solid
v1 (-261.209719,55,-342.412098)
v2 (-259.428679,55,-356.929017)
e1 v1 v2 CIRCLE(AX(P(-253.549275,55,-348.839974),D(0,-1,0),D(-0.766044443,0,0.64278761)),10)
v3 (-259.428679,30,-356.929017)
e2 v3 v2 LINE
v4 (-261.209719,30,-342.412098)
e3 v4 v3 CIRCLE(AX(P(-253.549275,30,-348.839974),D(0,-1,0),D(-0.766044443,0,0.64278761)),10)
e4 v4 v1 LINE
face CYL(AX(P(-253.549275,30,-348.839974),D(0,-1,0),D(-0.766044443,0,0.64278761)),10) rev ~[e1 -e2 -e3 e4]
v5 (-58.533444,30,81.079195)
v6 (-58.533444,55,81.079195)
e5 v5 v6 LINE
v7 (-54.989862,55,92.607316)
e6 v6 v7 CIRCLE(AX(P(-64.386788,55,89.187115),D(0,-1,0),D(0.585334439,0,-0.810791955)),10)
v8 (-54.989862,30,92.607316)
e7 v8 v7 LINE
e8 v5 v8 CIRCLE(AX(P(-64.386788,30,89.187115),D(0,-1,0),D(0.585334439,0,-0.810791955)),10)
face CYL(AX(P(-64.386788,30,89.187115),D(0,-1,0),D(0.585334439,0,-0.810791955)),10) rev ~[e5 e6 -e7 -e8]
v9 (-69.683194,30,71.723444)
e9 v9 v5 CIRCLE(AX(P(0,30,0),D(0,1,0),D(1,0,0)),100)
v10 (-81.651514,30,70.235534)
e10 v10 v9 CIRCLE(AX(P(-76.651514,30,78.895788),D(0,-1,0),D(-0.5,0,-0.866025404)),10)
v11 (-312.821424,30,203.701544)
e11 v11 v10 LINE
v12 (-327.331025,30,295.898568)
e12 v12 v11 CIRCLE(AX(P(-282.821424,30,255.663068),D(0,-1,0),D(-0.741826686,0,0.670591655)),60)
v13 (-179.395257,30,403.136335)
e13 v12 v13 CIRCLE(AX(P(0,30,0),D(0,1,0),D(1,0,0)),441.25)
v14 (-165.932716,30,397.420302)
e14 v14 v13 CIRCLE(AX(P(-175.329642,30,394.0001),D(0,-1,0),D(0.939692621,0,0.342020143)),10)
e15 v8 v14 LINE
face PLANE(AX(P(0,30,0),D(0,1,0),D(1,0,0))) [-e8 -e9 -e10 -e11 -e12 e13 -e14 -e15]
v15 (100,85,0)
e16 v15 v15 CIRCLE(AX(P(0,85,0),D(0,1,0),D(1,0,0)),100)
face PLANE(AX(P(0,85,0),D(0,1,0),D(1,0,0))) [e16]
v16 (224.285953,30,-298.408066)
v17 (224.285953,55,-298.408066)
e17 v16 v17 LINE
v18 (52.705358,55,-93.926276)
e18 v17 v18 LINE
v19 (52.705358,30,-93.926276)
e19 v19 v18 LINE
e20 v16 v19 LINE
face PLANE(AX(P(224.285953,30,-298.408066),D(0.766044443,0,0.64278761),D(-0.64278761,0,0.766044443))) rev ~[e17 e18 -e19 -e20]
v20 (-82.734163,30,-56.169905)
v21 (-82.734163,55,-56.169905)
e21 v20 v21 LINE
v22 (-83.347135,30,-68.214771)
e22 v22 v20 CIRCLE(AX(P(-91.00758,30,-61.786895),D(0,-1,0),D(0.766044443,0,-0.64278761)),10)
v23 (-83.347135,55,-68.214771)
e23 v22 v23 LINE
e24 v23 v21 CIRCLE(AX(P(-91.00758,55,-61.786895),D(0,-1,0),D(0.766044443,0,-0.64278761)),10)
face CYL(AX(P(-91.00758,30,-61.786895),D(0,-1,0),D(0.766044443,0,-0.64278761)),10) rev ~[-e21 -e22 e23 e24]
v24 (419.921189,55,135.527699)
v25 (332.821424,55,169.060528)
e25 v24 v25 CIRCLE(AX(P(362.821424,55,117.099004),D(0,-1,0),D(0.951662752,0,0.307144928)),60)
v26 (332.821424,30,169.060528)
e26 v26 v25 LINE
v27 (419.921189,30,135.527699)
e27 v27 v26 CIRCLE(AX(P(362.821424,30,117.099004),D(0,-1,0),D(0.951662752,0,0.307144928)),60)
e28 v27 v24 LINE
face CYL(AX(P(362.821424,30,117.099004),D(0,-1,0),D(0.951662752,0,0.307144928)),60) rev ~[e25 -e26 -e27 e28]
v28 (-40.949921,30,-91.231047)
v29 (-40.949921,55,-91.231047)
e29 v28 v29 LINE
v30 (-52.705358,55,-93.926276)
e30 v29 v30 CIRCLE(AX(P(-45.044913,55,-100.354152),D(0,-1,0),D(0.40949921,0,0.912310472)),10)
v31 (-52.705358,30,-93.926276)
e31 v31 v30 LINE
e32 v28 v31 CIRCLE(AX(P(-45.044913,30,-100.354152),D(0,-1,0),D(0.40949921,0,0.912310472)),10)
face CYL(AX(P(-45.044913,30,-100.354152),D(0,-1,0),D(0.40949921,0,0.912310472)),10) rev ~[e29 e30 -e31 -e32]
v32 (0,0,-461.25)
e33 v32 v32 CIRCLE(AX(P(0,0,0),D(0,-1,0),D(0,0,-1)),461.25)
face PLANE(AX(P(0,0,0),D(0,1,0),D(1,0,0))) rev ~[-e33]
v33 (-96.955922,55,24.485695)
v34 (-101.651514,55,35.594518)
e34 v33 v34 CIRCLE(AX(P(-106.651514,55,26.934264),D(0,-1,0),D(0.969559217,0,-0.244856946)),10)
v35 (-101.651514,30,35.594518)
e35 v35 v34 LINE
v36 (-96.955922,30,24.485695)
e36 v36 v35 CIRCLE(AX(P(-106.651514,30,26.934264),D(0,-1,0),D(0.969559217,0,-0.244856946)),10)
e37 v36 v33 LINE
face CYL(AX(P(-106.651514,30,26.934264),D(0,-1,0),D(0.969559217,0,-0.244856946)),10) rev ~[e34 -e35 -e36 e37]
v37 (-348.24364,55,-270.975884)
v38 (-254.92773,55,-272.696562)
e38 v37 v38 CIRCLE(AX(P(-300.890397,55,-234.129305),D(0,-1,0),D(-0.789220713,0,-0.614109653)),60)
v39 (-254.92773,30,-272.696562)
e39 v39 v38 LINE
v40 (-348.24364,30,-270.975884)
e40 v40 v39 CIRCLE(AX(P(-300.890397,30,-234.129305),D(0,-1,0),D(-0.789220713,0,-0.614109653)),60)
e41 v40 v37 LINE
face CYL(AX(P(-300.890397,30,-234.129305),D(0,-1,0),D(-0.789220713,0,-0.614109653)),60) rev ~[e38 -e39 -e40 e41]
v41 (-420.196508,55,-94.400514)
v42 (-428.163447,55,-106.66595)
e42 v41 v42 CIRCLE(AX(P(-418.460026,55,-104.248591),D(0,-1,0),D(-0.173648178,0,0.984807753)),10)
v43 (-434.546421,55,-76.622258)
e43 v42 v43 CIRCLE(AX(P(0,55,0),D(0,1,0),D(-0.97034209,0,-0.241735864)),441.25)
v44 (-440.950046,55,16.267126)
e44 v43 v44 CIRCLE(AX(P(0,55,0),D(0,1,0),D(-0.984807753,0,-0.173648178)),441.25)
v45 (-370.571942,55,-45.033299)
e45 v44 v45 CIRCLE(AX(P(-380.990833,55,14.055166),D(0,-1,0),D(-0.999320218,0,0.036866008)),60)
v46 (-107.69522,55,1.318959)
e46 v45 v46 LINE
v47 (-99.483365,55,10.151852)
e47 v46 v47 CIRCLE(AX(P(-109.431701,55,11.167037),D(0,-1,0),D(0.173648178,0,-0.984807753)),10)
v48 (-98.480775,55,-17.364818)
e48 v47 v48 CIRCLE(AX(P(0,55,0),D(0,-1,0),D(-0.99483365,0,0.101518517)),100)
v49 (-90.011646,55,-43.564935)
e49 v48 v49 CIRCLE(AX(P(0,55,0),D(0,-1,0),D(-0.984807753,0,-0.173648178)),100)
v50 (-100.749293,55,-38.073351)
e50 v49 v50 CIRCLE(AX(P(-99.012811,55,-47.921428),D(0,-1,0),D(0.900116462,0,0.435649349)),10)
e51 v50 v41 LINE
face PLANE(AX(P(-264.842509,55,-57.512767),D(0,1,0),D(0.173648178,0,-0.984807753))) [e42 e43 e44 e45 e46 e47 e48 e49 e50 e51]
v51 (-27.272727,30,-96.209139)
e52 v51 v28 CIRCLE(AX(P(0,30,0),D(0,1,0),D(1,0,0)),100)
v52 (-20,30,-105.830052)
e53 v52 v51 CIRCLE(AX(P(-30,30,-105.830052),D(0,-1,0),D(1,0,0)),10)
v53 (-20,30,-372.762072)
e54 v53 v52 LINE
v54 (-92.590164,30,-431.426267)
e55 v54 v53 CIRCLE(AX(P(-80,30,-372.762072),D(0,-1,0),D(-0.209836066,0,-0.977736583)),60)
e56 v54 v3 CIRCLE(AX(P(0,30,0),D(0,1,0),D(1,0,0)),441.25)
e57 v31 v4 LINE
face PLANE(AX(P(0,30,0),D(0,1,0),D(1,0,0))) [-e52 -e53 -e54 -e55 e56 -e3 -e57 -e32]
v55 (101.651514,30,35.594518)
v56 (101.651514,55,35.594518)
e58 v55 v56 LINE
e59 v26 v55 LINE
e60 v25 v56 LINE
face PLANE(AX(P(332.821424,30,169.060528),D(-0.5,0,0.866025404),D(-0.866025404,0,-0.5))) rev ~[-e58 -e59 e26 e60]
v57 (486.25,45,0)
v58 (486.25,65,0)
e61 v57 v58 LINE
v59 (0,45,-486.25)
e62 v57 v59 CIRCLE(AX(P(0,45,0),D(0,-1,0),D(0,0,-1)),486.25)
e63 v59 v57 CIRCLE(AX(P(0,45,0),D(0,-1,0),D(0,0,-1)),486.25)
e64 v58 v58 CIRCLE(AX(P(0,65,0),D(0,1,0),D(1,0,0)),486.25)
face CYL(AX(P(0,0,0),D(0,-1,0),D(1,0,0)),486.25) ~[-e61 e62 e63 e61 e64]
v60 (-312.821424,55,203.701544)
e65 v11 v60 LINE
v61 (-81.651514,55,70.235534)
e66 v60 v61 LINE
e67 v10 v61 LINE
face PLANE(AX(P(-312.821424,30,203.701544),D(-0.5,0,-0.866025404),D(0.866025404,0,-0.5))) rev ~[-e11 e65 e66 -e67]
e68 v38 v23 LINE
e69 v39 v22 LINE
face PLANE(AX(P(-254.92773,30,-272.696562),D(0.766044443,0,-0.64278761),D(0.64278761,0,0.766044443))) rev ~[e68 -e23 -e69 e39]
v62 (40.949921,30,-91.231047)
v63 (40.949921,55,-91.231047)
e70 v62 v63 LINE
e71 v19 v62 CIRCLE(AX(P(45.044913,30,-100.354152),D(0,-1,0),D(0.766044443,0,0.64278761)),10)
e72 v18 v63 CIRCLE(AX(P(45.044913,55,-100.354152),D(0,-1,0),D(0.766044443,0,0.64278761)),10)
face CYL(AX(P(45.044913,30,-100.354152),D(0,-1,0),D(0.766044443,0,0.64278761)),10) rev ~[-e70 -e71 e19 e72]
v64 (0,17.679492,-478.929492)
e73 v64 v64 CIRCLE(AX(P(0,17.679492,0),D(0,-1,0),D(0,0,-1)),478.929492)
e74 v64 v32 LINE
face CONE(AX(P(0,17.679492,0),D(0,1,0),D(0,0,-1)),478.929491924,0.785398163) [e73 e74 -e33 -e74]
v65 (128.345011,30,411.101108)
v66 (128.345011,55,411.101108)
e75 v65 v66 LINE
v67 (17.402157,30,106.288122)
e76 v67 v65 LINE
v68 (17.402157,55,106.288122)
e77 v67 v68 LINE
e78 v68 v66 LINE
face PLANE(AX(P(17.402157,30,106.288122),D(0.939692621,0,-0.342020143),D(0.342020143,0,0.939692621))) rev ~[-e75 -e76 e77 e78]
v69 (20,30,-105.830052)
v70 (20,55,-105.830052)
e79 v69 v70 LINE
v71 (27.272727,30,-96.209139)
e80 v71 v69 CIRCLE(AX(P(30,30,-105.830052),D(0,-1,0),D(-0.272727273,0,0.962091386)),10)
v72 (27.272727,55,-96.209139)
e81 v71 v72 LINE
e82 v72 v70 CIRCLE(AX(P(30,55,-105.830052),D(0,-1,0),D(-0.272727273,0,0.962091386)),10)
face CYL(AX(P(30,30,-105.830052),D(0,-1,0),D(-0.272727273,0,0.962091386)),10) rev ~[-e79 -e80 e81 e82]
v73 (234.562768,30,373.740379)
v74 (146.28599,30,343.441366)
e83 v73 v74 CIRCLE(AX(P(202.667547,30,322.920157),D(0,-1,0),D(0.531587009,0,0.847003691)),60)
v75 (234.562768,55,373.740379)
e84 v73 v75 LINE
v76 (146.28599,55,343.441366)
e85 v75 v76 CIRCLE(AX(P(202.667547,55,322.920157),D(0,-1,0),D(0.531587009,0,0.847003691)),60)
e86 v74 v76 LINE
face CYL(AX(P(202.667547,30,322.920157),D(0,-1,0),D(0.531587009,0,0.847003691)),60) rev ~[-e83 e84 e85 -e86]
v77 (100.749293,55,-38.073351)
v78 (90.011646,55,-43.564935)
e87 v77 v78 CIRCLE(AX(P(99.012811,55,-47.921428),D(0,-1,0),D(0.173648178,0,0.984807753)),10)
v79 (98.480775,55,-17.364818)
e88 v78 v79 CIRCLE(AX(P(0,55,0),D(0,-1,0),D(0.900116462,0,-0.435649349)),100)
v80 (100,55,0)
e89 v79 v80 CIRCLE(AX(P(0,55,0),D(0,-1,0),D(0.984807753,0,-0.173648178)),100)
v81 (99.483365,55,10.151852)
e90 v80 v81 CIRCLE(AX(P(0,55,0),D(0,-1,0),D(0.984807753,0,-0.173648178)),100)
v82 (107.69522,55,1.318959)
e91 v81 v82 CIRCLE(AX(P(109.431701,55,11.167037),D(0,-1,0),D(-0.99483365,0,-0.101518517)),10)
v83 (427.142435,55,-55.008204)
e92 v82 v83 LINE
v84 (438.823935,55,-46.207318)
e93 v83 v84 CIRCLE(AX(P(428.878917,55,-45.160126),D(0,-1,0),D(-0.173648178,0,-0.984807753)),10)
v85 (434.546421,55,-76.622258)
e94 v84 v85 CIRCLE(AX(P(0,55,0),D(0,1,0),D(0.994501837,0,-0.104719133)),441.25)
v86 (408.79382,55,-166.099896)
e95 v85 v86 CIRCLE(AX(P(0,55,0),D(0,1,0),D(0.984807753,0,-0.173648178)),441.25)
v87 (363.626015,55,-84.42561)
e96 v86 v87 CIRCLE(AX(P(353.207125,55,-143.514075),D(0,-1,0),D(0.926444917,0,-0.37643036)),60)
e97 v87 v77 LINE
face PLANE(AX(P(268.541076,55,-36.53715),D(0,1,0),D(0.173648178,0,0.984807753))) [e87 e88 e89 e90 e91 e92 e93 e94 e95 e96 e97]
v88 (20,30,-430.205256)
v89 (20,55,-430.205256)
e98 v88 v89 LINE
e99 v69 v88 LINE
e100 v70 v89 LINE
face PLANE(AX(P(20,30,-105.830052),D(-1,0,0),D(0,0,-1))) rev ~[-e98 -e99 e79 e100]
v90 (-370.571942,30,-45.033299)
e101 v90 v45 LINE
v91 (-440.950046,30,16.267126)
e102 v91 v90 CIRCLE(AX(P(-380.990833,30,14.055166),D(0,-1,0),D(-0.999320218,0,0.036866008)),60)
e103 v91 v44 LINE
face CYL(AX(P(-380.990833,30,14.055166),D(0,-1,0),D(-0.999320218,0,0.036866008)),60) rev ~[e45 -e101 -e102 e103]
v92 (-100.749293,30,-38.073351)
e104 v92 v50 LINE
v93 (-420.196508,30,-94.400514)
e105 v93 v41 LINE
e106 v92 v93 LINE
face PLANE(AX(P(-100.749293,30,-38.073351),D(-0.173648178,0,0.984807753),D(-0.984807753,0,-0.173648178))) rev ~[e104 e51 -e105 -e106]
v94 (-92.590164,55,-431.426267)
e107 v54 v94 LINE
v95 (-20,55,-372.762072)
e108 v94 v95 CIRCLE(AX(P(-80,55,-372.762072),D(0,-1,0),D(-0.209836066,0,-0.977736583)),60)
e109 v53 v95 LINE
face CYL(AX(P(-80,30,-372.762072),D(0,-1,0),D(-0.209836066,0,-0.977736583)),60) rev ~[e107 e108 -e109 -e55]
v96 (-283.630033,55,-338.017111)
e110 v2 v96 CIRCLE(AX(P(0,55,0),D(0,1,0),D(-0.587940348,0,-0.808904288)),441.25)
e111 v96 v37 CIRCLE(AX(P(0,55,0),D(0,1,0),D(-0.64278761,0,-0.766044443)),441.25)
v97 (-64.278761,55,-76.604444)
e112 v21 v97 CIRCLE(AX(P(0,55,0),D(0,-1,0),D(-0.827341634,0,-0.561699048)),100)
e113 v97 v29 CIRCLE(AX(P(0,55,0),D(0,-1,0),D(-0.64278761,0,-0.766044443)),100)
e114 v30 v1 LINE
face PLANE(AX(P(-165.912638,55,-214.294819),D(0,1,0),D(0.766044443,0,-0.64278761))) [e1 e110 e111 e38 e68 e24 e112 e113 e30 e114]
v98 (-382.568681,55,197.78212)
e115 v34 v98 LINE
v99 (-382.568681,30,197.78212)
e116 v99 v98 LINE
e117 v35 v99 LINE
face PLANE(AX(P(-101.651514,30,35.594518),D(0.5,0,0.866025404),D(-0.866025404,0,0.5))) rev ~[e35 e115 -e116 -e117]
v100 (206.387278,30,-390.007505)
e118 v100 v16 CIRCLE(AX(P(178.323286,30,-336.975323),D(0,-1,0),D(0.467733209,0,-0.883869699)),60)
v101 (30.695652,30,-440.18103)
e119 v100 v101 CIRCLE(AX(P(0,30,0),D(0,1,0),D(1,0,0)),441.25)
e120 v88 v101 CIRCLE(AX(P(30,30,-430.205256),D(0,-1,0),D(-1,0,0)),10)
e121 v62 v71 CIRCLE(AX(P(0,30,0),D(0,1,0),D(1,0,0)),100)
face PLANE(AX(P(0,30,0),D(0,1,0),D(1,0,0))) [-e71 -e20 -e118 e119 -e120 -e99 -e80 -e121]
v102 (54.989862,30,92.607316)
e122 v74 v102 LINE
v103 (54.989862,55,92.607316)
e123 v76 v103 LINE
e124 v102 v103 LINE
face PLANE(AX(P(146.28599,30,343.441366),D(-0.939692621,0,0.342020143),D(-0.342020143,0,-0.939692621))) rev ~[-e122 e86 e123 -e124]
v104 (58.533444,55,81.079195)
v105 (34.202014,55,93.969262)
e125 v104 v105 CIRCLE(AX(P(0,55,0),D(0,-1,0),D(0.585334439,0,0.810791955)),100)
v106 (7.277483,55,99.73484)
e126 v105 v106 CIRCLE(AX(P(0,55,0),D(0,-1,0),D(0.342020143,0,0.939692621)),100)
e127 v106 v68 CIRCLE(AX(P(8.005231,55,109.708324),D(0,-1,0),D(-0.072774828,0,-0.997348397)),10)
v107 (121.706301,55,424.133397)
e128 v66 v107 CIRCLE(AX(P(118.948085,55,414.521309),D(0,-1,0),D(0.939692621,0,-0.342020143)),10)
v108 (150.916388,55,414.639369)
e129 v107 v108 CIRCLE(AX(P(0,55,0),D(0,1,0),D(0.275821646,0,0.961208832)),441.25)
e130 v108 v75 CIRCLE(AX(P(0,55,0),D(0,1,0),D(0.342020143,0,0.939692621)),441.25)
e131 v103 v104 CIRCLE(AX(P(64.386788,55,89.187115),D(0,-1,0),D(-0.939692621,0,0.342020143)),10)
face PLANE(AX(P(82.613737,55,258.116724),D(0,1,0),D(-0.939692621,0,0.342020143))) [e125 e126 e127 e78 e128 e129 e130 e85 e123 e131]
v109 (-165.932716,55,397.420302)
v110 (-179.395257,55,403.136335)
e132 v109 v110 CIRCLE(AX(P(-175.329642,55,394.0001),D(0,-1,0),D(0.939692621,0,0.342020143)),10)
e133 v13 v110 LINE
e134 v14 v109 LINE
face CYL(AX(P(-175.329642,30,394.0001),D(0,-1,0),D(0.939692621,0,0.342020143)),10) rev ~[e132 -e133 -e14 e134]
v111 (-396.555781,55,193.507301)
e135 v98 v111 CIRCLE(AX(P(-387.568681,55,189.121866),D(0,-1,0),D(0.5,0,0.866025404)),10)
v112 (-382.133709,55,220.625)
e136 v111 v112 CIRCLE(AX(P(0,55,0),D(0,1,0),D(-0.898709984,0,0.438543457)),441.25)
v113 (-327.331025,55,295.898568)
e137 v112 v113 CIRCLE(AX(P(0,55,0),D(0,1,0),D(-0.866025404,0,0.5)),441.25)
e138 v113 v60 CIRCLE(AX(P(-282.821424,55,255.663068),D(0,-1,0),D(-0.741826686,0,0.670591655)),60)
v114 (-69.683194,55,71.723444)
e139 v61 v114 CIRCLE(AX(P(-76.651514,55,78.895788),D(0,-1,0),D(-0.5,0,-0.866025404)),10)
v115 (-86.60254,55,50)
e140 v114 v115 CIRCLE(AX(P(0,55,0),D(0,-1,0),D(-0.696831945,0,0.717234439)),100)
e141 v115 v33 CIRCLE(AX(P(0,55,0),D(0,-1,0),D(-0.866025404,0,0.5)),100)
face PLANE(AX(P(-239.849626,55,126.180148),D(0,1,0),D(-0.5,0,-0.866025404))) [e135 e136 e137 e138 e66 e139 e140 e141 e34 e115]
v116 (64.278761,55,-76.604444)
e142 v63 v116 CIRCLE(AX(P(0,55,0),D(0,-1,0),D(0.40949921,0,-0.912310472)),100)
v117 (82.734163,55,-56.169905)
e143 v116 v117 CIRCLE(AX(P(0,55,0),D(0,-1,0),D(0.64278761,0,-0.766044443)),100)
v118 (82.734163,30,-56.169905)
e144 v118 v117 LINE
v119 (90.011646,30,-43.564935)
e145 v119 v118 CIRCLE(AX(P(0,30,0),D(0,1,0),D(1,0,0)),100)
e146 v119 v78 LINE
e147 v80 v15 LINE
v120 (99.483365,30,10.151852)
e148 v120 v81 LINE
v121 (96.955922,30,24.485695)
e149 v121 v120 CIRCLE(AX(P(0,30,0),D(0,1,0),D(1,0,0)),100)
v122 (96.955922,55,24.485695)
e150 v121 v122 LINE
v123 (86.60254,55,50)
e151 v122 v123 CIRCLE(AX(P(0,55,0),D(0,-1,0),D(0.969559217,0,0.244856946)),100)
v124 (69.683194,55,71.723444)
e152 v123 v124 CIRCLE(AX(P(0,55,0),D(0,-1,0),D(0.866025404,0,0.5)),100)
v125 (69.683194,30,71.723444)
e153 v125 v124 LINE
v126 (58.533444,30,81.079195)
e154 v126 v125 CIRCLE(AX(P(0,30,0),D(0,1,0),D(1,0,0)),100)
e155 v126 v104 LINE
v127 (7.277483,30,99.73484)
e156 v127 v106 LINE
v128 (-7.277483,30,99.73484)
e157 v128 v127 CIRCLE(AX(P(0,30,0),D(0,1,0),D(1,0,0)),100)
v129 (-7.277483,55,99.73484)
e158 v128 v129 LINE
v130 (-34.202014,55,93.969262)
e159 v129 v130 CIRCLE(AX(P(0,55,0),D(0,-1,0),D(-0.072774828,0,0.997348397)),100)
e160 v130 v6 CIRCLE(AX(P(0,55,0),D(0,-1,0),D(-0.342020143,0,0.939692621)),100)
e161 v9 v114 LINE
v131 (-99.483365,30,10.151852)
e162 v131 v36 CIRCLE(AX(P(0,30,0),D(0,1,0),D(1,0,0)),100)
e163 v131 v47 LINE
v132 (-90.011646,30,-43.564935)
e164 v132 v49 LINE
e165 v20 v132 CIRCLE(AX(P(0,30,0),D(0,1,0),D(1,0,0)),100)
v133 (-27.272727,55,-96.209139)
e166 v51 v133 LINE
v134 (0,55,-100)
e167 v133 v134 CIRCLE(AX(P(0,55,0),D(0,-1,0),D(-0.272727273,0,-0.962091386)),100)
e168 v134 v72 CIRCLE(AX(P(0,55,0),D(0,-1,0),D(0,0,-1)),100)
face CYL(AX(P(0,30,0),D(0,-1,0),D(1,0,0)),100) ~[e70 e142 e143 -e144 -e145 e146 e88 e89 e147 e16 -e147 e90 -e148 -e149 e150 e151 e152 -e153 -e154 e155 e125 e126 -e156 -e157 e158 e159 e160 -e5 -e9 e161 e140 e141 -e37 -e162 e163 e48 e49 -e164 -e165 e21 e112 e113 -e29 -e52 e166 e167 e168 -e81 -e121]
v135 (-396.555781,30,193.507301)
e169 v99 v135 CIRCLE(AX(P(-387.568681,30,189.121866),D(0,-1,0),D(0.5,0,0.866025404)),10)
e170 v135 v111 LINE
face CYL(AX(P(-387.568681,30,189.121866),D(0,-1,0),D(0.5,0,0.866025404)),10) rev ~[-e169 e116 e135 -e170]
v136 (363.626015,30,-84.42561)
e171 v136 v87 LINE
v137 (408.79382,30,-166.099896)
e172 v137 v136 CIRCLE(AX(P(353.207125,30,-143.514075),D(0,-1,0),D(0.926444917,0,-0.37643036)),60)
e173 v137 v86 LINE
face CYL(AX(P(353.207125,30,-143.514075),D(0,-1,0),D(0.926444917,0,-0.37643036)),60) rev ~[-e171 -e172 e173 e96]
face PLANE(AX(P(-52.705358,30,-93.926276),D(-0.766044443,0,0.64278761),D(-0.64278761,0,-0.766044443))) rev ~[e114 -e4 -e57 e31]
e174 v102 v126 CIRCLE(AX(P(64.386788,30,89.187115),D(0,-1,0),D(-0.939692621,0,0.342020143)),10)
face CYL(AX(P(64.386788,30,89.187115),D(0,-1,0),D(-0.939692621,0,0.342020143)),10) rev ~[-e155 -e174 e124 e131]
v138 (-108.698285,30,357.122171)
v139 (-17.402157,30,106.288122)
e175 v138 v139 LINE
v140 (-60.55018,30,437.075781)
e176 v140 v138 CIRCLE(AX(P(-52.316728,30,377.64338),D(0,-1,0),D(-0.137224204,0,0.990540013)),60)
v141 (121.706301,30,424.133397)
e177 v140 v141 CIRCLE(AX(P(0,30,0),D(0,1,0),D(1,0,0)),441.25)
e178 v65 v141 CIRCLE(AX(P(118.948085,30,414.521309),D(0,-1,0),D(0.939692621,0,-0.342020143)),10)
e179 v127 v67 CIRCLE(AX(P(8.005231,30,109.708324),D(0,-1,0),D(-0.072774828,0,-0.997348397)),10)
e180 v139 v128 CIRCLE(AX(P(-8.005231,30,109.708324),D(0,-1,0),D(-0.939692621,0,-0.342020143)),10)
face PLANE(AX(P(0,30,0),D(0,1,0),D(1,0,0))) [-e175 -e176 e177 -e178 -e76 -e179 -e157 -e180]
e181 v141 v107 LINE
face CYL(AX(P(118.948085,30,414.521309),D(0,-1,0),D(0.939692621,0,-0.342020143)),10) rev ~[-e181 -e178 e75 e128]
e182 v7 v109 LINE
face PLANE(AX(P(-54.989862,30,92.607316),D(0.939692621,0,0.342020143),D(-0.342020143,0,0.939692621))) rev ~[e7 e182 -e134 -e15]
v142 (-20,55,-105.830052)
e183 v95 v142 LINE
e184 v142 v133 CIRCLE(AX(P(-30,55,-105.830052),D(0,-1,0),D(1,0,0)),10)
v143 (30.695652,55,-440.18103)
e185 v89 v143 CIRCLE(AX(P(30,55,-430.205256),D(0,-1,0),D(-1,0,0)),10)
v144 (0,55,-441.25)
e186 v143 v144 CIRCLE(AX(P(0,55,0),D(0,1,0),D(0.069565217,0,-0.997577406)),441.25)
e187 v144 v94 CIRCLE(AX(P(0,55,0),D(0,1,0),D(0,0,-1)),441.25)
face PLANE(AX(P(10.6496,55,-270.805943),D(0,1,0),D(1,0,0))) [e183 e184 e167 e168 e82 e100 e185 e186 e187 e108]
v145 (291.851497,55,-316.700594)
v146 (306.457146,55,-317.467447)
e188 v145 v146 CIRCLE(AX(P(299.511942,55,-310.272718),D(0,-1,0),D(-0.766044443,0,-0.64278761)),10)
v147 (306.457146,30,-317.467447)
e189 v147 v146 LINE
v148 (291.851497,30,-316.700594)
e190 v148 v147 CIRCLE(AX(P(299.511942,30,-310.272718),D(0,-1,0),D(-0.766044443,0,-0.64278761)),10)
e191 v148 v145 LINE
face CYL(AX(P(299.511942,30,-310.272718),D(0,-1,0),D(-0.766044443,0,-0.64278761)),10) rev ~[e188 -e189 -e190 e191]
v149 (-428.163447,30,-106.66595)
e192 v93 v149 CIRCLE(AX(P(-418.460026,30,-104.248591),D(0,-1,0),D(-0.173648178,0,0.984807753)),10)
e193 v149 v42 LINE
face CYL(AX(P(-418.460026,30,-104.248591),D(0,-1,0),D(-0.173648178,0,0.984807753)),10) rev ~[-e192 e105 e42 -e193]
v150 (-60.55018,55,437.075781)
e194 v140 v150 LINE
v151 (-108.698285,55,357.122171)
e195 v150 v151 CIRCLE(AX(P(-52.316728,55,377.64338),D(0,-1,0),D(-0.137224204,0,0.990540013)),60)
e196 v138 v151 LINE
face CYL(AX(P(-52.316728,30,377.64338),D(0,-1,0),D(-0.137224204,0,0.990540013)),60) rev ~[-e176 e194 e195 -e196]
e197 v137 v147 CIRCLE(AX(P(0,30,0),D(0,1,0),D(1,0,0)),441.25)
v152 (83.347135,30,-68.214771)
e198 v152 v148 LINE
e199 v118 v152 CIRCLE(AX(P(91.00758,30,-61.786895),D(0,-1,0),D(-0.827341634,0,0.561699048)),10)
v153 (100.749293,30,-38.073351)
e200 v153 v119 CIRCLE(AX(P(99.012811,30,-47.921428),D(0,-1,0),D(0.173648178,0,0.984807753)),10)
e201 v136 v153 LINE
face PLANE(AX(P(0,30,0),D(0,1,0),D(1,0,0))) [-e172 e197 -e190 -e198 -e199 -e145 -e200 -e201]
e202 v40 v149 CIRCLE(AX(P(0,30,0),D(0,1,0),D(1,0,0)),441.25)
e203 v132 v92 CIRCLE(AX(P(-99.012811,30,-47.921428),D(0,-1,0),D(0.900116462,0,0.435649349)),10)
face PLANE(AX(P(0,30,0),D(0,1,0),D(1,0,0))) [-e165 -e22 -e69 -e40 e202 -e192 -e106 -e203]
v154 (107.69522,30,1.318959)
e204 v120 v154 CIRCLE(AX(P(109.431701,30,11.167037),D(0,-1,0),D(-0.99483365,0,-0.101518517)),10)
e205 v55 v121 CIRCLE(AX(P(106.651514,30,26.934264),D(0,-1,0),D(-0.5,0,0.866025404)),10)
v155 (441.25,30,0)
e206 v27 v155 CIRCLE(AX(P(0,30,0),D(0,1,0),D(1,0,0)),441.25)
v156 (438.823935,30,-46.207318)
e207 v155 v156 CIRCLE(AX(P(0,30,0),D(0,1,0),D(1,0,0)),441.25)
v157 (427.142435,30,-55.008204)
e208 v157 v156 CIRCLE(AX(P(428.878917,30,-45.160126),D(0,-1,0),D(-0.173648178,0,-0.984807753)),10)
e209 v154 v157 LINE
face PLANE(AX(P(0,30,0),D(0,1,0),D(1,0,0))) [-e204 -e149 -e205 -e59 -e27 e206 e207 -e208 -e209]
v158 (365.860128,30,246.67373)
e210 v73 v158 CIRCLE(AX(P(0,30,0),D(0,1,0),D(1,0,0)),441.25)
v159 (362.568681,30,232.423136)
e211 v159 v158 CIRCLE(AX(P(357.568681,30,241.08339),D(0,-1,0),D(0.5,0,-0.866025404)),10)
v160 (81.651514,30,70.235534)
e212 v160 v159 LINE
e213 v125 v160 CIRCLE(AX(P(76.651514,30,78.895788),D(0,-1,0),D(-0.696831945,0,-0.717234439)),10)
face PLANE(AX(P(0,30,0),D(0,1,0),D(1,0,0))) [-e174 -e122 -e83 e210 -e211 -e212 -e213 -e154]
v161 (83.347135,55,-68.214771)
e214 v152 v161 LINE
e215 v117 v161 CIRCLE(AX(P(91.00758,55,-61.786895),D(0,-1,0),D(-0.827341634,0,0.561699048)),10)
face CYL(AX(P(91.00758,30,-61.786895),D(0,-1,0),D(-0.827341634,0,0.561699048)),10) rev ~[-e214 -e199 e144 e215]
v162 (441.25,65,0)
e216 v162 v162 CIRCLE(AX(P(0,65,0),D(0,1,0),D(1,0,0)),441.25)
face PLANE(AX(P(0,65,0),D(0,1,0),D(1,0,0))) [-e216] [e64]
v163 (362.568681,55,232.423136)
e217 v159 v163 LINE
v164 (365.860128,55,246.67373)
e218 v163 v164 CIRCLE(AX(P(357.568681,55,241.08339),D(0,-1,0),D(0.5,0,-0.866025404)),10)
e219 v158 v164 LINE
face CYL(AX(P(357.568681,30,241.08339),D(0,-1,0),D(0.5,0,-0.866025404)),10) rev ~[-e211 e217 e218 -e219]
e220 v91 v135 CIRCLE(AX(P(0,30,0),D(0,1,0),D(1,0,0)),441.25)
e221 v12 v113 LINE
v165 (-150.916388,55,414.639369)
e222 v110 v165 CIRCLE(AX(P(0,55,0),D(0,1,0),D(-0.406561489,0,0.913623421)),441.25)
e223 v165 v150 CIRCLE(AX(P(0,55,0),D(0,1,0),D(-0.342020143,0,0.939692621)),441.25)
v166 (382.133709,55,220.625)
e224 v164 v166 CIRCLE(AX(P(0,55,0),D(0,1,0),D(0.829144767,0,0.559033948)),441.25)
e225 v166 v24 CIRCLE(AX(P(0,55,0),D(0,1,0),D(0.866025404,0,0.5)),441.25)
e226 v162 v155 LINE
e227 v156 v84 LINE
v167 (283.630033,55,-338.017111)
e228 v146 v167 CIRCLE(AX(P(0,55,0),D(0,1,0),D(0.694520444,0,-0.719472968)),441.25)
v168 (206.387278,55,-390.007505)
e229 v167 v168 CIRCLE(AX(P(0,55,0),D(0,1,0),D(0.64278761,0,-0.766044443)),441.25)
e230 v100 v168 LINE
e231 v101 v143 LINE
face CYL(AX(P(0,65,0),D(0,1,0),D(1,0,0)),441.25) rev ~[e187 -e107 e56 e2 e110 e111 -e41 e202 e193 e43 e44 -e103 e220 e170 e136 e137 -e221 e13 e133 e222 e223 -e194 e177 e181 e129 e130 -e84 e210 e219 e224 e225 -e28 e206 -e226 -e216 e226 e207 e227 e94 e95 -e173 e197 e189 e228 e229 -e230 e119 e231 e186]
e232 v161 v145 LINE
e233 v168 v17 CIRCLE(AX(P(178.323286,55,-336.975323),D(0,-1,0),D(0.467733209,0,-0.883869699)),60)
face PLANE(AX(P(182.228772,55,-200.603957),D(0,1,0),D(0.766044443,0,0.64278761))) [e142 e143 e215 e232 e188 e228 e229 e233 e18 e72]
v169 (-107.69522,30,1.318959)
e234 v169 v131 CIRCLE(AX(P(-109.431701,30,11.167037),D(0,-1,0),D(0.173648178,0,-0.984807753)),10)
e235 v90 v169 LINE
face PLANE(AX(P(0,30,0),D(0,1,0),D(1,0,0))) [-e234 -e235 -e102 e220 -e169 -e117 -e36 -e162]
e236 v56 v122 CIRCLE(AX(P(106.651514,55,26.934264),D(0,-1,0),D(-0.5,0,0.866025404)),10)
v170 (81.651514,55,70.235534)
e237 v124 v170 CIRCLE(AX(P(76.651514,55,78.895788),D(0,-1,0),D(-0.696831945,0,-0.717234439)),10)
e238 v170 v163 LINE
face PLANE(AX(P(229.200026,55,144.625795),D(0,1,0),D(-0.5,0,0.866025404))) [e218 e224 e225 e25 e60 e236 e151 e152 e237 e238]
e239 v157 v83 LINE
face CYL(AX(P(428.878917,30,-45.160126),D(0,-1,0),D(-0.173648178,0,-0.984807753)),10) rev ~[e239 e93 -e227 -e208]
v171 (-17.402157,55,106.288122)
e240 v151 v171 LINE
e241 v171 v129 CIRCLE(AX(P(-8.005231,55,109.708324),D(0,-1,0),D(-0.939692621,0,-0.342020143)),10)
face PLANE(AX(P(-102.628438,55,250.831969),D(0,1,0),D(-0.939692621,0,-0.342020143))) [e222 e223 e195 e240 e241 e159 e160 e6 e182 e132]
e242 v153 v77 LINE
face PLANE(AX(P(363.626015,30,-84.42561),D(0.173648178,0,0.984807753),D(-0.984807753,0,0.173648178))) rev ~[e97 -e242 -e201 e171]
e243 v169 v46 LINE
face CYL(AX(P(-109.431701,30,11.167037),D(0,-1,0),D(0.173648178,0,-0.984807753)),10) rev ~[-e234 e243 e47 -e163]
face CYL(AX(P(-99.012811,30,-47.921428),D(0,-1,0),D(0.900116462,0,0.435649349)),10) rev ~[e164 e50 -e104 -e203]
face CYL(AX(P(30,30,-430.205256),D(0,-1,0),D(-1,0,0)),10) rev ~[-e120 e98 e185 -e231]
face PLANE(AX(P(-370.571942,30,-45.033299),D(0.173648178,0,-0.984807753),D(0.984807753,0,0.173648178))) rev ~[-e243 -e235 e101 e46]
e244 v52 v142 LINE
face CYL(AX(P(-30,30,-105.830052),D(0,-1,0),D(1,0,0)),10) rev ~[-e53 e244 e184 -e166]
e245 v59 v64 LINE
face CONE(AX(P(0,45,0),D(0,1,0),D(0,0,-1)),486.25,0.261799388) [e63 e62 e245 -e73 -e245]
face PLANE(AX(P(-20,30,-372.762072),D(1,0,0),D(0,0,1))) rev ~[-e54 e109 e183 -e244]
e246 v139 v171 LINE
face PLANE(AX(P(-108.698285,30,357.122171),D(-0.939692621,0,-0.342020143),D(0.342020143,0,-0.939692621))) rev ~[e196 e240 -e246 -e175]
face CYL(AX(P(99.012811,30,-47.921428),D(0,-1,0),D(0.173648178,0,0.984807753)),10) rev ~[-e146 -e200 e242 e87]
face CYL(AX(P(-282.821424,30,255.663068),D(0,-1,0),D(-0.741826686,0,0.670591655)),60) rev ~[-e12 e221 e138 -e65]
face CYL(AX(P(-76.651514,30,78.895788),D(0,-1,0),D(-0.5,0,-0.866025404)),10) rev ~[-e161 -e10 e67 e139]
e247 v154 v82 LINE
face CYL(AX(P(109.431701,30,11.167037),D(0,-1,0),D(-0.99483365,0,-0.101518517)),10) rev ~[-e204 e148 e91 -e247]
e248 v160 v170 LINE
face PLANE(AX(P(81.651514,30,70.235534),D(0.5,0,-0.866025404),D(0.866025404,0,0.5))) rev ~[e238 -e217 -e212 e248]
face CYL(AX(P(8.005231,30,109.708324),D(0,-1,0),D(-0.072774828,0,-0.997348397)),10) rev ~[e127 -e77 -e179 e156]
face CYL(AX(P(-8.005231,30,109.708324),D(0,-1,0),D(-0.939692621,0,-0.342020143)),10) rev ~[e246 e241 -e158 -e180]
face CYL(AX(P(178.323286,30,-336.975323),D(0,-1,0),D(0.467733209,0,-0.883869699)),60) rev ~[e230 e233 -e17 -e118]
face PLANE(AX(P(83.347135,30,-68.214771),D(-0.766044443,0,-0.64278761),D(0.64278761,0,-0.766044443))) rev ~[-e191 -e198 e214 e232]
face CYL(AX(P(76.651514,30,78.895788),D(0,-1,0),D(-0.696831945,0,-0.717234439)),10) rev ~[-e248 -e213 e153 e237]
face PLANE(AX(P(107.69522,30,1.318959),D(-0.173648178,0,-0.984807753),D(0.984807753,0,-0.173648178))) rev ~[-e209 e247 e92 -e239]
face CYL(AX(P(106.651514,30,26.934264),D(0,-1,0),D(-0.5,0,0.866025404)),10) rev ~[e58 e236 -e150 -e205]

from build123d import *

# Parameters (mm, degrees)
SKETCH1_R           = 486.25
BOSS_EXTRUDE1_DEPTH = 65
SKETCH3_R           = 441.25
CUT_EXTRUDE1_DEPTH  = 35
SKETCH6_R           = 100
BOSS_EXTRUDE3_DEPTH = 55
BOSS_EXTRUDE4_DEPTH = 25
CIRPATTERN1_COUNT   = 9


with BuildPart() as part:
    # Sketch1 → Boss-Extrude1 (new body)
    with BuildSketch(Plane(origin=(0, 0, 0), x_dir=(1, 0, 0), z_dir=(0, 1, 0))):
        Circle(SKETCH1_R)
    extrude(amount=BOSS_EXTRUDE1_DEPTH)

    # Sketch3 → Cut-Extrude1 (cut)
    with BuildSketch(Plane(origin=(0, 65, 0), x_dir=(1, 0, 0), z_dir=(0, 1, 0))):
        Circle(SKETCH3_R)
    extrude(amount=-CUT_EXTRUDE1_DEPTH, mode=Mode.SUBTRACT)

    # Sketch5 → Cut-Revolve1 (revolve, cut)
    with BuildSketch(Plane(origin=(0, 0, 0), x_dir=(0, 0, -1), z_dir=(1, 0, 0))):
        Polygon((486.25, 45), (478.929491924, 17.679491924), (461.25, 0), (486.25, 0), align=None)
    revolve(axis=Axis((0, 89.25, 0), (0, -1, 0)), mode=Mode.SUBTRACT)

    # Sketch6 → Boss-Extrude3 (add)
    with BuildSketch(Plane(origin=(0, 30, 0), x_dir=(1, 0, 0), z_dir=(0, 1, 0))):
        Circle(SKETCH6_R)
    extrude(amount=BOSS_EXTRUDE3_DEPTH)

    # Sketch7 → Boss-Extrude4 (add)
    with BuildSketch(Plane(origin=(0, 30, 0), x_dir=(1, 0, 0), z_dir=(0, 1, 0))):
        with BuildLine():
            Line((0, 441.25), (0, 100))
            ThreePointArc((0, 100), (13.767464211, 99.047750753), (27.272727273, 96.209138584))
            ThreePointArc((27.272727273, 96.209138584), (22.022759648, 99.799825551), (20, 105.830052443))
            Line((20, 105.830052443), (20, 430.205256244))
            ThreePointArc((20, 430.205256244), (23.179315347, 437.518139456), (30.695652174, 440.181030302))
            ThreePointArc((30.695652174, 440.181030302), (15.357129929, 440.982676599), (0, 441.25))
        make_face()
        with BuildLine():
            Line((-20, 372.762072239), (-20, 105.830052443))
            ThreePointArc((-20, 105.830052443), (-22.022759648, 99.799825551), (-27.272727273, 96.209138584))
            ThreePointArc((-27.272727273, 96.209138584), (-13.767464211, 99.047750753), (0, 100))
            Line((0, 100), (0, 441.25))
            ThreePointArc((0, 441.25), (-46.554925044, 438.787193813), (-92.590163934, 431.426267214))
            ThreePointArc((-92.590163934, 431.426267214), (-42.286672356, 419.427958259), (-20, 372.762072239))
        make_face()
    boss_extrude4 = extrude(amount=BOSS_EXTRUDE4_DEPTH)

    # CirPattern1: Boss-Extrude4 ×9 about axis
    cirpattern1_axis = Axis((0, 0, 0), (0, 1, 0))
    for i in range(1, CIRPATTERN1_COUNT):
        add(boss_extrude4.rotate(cirpattern1_axis, i * 360 / CIRPATTERN1_COUNT))


solid = part.part
